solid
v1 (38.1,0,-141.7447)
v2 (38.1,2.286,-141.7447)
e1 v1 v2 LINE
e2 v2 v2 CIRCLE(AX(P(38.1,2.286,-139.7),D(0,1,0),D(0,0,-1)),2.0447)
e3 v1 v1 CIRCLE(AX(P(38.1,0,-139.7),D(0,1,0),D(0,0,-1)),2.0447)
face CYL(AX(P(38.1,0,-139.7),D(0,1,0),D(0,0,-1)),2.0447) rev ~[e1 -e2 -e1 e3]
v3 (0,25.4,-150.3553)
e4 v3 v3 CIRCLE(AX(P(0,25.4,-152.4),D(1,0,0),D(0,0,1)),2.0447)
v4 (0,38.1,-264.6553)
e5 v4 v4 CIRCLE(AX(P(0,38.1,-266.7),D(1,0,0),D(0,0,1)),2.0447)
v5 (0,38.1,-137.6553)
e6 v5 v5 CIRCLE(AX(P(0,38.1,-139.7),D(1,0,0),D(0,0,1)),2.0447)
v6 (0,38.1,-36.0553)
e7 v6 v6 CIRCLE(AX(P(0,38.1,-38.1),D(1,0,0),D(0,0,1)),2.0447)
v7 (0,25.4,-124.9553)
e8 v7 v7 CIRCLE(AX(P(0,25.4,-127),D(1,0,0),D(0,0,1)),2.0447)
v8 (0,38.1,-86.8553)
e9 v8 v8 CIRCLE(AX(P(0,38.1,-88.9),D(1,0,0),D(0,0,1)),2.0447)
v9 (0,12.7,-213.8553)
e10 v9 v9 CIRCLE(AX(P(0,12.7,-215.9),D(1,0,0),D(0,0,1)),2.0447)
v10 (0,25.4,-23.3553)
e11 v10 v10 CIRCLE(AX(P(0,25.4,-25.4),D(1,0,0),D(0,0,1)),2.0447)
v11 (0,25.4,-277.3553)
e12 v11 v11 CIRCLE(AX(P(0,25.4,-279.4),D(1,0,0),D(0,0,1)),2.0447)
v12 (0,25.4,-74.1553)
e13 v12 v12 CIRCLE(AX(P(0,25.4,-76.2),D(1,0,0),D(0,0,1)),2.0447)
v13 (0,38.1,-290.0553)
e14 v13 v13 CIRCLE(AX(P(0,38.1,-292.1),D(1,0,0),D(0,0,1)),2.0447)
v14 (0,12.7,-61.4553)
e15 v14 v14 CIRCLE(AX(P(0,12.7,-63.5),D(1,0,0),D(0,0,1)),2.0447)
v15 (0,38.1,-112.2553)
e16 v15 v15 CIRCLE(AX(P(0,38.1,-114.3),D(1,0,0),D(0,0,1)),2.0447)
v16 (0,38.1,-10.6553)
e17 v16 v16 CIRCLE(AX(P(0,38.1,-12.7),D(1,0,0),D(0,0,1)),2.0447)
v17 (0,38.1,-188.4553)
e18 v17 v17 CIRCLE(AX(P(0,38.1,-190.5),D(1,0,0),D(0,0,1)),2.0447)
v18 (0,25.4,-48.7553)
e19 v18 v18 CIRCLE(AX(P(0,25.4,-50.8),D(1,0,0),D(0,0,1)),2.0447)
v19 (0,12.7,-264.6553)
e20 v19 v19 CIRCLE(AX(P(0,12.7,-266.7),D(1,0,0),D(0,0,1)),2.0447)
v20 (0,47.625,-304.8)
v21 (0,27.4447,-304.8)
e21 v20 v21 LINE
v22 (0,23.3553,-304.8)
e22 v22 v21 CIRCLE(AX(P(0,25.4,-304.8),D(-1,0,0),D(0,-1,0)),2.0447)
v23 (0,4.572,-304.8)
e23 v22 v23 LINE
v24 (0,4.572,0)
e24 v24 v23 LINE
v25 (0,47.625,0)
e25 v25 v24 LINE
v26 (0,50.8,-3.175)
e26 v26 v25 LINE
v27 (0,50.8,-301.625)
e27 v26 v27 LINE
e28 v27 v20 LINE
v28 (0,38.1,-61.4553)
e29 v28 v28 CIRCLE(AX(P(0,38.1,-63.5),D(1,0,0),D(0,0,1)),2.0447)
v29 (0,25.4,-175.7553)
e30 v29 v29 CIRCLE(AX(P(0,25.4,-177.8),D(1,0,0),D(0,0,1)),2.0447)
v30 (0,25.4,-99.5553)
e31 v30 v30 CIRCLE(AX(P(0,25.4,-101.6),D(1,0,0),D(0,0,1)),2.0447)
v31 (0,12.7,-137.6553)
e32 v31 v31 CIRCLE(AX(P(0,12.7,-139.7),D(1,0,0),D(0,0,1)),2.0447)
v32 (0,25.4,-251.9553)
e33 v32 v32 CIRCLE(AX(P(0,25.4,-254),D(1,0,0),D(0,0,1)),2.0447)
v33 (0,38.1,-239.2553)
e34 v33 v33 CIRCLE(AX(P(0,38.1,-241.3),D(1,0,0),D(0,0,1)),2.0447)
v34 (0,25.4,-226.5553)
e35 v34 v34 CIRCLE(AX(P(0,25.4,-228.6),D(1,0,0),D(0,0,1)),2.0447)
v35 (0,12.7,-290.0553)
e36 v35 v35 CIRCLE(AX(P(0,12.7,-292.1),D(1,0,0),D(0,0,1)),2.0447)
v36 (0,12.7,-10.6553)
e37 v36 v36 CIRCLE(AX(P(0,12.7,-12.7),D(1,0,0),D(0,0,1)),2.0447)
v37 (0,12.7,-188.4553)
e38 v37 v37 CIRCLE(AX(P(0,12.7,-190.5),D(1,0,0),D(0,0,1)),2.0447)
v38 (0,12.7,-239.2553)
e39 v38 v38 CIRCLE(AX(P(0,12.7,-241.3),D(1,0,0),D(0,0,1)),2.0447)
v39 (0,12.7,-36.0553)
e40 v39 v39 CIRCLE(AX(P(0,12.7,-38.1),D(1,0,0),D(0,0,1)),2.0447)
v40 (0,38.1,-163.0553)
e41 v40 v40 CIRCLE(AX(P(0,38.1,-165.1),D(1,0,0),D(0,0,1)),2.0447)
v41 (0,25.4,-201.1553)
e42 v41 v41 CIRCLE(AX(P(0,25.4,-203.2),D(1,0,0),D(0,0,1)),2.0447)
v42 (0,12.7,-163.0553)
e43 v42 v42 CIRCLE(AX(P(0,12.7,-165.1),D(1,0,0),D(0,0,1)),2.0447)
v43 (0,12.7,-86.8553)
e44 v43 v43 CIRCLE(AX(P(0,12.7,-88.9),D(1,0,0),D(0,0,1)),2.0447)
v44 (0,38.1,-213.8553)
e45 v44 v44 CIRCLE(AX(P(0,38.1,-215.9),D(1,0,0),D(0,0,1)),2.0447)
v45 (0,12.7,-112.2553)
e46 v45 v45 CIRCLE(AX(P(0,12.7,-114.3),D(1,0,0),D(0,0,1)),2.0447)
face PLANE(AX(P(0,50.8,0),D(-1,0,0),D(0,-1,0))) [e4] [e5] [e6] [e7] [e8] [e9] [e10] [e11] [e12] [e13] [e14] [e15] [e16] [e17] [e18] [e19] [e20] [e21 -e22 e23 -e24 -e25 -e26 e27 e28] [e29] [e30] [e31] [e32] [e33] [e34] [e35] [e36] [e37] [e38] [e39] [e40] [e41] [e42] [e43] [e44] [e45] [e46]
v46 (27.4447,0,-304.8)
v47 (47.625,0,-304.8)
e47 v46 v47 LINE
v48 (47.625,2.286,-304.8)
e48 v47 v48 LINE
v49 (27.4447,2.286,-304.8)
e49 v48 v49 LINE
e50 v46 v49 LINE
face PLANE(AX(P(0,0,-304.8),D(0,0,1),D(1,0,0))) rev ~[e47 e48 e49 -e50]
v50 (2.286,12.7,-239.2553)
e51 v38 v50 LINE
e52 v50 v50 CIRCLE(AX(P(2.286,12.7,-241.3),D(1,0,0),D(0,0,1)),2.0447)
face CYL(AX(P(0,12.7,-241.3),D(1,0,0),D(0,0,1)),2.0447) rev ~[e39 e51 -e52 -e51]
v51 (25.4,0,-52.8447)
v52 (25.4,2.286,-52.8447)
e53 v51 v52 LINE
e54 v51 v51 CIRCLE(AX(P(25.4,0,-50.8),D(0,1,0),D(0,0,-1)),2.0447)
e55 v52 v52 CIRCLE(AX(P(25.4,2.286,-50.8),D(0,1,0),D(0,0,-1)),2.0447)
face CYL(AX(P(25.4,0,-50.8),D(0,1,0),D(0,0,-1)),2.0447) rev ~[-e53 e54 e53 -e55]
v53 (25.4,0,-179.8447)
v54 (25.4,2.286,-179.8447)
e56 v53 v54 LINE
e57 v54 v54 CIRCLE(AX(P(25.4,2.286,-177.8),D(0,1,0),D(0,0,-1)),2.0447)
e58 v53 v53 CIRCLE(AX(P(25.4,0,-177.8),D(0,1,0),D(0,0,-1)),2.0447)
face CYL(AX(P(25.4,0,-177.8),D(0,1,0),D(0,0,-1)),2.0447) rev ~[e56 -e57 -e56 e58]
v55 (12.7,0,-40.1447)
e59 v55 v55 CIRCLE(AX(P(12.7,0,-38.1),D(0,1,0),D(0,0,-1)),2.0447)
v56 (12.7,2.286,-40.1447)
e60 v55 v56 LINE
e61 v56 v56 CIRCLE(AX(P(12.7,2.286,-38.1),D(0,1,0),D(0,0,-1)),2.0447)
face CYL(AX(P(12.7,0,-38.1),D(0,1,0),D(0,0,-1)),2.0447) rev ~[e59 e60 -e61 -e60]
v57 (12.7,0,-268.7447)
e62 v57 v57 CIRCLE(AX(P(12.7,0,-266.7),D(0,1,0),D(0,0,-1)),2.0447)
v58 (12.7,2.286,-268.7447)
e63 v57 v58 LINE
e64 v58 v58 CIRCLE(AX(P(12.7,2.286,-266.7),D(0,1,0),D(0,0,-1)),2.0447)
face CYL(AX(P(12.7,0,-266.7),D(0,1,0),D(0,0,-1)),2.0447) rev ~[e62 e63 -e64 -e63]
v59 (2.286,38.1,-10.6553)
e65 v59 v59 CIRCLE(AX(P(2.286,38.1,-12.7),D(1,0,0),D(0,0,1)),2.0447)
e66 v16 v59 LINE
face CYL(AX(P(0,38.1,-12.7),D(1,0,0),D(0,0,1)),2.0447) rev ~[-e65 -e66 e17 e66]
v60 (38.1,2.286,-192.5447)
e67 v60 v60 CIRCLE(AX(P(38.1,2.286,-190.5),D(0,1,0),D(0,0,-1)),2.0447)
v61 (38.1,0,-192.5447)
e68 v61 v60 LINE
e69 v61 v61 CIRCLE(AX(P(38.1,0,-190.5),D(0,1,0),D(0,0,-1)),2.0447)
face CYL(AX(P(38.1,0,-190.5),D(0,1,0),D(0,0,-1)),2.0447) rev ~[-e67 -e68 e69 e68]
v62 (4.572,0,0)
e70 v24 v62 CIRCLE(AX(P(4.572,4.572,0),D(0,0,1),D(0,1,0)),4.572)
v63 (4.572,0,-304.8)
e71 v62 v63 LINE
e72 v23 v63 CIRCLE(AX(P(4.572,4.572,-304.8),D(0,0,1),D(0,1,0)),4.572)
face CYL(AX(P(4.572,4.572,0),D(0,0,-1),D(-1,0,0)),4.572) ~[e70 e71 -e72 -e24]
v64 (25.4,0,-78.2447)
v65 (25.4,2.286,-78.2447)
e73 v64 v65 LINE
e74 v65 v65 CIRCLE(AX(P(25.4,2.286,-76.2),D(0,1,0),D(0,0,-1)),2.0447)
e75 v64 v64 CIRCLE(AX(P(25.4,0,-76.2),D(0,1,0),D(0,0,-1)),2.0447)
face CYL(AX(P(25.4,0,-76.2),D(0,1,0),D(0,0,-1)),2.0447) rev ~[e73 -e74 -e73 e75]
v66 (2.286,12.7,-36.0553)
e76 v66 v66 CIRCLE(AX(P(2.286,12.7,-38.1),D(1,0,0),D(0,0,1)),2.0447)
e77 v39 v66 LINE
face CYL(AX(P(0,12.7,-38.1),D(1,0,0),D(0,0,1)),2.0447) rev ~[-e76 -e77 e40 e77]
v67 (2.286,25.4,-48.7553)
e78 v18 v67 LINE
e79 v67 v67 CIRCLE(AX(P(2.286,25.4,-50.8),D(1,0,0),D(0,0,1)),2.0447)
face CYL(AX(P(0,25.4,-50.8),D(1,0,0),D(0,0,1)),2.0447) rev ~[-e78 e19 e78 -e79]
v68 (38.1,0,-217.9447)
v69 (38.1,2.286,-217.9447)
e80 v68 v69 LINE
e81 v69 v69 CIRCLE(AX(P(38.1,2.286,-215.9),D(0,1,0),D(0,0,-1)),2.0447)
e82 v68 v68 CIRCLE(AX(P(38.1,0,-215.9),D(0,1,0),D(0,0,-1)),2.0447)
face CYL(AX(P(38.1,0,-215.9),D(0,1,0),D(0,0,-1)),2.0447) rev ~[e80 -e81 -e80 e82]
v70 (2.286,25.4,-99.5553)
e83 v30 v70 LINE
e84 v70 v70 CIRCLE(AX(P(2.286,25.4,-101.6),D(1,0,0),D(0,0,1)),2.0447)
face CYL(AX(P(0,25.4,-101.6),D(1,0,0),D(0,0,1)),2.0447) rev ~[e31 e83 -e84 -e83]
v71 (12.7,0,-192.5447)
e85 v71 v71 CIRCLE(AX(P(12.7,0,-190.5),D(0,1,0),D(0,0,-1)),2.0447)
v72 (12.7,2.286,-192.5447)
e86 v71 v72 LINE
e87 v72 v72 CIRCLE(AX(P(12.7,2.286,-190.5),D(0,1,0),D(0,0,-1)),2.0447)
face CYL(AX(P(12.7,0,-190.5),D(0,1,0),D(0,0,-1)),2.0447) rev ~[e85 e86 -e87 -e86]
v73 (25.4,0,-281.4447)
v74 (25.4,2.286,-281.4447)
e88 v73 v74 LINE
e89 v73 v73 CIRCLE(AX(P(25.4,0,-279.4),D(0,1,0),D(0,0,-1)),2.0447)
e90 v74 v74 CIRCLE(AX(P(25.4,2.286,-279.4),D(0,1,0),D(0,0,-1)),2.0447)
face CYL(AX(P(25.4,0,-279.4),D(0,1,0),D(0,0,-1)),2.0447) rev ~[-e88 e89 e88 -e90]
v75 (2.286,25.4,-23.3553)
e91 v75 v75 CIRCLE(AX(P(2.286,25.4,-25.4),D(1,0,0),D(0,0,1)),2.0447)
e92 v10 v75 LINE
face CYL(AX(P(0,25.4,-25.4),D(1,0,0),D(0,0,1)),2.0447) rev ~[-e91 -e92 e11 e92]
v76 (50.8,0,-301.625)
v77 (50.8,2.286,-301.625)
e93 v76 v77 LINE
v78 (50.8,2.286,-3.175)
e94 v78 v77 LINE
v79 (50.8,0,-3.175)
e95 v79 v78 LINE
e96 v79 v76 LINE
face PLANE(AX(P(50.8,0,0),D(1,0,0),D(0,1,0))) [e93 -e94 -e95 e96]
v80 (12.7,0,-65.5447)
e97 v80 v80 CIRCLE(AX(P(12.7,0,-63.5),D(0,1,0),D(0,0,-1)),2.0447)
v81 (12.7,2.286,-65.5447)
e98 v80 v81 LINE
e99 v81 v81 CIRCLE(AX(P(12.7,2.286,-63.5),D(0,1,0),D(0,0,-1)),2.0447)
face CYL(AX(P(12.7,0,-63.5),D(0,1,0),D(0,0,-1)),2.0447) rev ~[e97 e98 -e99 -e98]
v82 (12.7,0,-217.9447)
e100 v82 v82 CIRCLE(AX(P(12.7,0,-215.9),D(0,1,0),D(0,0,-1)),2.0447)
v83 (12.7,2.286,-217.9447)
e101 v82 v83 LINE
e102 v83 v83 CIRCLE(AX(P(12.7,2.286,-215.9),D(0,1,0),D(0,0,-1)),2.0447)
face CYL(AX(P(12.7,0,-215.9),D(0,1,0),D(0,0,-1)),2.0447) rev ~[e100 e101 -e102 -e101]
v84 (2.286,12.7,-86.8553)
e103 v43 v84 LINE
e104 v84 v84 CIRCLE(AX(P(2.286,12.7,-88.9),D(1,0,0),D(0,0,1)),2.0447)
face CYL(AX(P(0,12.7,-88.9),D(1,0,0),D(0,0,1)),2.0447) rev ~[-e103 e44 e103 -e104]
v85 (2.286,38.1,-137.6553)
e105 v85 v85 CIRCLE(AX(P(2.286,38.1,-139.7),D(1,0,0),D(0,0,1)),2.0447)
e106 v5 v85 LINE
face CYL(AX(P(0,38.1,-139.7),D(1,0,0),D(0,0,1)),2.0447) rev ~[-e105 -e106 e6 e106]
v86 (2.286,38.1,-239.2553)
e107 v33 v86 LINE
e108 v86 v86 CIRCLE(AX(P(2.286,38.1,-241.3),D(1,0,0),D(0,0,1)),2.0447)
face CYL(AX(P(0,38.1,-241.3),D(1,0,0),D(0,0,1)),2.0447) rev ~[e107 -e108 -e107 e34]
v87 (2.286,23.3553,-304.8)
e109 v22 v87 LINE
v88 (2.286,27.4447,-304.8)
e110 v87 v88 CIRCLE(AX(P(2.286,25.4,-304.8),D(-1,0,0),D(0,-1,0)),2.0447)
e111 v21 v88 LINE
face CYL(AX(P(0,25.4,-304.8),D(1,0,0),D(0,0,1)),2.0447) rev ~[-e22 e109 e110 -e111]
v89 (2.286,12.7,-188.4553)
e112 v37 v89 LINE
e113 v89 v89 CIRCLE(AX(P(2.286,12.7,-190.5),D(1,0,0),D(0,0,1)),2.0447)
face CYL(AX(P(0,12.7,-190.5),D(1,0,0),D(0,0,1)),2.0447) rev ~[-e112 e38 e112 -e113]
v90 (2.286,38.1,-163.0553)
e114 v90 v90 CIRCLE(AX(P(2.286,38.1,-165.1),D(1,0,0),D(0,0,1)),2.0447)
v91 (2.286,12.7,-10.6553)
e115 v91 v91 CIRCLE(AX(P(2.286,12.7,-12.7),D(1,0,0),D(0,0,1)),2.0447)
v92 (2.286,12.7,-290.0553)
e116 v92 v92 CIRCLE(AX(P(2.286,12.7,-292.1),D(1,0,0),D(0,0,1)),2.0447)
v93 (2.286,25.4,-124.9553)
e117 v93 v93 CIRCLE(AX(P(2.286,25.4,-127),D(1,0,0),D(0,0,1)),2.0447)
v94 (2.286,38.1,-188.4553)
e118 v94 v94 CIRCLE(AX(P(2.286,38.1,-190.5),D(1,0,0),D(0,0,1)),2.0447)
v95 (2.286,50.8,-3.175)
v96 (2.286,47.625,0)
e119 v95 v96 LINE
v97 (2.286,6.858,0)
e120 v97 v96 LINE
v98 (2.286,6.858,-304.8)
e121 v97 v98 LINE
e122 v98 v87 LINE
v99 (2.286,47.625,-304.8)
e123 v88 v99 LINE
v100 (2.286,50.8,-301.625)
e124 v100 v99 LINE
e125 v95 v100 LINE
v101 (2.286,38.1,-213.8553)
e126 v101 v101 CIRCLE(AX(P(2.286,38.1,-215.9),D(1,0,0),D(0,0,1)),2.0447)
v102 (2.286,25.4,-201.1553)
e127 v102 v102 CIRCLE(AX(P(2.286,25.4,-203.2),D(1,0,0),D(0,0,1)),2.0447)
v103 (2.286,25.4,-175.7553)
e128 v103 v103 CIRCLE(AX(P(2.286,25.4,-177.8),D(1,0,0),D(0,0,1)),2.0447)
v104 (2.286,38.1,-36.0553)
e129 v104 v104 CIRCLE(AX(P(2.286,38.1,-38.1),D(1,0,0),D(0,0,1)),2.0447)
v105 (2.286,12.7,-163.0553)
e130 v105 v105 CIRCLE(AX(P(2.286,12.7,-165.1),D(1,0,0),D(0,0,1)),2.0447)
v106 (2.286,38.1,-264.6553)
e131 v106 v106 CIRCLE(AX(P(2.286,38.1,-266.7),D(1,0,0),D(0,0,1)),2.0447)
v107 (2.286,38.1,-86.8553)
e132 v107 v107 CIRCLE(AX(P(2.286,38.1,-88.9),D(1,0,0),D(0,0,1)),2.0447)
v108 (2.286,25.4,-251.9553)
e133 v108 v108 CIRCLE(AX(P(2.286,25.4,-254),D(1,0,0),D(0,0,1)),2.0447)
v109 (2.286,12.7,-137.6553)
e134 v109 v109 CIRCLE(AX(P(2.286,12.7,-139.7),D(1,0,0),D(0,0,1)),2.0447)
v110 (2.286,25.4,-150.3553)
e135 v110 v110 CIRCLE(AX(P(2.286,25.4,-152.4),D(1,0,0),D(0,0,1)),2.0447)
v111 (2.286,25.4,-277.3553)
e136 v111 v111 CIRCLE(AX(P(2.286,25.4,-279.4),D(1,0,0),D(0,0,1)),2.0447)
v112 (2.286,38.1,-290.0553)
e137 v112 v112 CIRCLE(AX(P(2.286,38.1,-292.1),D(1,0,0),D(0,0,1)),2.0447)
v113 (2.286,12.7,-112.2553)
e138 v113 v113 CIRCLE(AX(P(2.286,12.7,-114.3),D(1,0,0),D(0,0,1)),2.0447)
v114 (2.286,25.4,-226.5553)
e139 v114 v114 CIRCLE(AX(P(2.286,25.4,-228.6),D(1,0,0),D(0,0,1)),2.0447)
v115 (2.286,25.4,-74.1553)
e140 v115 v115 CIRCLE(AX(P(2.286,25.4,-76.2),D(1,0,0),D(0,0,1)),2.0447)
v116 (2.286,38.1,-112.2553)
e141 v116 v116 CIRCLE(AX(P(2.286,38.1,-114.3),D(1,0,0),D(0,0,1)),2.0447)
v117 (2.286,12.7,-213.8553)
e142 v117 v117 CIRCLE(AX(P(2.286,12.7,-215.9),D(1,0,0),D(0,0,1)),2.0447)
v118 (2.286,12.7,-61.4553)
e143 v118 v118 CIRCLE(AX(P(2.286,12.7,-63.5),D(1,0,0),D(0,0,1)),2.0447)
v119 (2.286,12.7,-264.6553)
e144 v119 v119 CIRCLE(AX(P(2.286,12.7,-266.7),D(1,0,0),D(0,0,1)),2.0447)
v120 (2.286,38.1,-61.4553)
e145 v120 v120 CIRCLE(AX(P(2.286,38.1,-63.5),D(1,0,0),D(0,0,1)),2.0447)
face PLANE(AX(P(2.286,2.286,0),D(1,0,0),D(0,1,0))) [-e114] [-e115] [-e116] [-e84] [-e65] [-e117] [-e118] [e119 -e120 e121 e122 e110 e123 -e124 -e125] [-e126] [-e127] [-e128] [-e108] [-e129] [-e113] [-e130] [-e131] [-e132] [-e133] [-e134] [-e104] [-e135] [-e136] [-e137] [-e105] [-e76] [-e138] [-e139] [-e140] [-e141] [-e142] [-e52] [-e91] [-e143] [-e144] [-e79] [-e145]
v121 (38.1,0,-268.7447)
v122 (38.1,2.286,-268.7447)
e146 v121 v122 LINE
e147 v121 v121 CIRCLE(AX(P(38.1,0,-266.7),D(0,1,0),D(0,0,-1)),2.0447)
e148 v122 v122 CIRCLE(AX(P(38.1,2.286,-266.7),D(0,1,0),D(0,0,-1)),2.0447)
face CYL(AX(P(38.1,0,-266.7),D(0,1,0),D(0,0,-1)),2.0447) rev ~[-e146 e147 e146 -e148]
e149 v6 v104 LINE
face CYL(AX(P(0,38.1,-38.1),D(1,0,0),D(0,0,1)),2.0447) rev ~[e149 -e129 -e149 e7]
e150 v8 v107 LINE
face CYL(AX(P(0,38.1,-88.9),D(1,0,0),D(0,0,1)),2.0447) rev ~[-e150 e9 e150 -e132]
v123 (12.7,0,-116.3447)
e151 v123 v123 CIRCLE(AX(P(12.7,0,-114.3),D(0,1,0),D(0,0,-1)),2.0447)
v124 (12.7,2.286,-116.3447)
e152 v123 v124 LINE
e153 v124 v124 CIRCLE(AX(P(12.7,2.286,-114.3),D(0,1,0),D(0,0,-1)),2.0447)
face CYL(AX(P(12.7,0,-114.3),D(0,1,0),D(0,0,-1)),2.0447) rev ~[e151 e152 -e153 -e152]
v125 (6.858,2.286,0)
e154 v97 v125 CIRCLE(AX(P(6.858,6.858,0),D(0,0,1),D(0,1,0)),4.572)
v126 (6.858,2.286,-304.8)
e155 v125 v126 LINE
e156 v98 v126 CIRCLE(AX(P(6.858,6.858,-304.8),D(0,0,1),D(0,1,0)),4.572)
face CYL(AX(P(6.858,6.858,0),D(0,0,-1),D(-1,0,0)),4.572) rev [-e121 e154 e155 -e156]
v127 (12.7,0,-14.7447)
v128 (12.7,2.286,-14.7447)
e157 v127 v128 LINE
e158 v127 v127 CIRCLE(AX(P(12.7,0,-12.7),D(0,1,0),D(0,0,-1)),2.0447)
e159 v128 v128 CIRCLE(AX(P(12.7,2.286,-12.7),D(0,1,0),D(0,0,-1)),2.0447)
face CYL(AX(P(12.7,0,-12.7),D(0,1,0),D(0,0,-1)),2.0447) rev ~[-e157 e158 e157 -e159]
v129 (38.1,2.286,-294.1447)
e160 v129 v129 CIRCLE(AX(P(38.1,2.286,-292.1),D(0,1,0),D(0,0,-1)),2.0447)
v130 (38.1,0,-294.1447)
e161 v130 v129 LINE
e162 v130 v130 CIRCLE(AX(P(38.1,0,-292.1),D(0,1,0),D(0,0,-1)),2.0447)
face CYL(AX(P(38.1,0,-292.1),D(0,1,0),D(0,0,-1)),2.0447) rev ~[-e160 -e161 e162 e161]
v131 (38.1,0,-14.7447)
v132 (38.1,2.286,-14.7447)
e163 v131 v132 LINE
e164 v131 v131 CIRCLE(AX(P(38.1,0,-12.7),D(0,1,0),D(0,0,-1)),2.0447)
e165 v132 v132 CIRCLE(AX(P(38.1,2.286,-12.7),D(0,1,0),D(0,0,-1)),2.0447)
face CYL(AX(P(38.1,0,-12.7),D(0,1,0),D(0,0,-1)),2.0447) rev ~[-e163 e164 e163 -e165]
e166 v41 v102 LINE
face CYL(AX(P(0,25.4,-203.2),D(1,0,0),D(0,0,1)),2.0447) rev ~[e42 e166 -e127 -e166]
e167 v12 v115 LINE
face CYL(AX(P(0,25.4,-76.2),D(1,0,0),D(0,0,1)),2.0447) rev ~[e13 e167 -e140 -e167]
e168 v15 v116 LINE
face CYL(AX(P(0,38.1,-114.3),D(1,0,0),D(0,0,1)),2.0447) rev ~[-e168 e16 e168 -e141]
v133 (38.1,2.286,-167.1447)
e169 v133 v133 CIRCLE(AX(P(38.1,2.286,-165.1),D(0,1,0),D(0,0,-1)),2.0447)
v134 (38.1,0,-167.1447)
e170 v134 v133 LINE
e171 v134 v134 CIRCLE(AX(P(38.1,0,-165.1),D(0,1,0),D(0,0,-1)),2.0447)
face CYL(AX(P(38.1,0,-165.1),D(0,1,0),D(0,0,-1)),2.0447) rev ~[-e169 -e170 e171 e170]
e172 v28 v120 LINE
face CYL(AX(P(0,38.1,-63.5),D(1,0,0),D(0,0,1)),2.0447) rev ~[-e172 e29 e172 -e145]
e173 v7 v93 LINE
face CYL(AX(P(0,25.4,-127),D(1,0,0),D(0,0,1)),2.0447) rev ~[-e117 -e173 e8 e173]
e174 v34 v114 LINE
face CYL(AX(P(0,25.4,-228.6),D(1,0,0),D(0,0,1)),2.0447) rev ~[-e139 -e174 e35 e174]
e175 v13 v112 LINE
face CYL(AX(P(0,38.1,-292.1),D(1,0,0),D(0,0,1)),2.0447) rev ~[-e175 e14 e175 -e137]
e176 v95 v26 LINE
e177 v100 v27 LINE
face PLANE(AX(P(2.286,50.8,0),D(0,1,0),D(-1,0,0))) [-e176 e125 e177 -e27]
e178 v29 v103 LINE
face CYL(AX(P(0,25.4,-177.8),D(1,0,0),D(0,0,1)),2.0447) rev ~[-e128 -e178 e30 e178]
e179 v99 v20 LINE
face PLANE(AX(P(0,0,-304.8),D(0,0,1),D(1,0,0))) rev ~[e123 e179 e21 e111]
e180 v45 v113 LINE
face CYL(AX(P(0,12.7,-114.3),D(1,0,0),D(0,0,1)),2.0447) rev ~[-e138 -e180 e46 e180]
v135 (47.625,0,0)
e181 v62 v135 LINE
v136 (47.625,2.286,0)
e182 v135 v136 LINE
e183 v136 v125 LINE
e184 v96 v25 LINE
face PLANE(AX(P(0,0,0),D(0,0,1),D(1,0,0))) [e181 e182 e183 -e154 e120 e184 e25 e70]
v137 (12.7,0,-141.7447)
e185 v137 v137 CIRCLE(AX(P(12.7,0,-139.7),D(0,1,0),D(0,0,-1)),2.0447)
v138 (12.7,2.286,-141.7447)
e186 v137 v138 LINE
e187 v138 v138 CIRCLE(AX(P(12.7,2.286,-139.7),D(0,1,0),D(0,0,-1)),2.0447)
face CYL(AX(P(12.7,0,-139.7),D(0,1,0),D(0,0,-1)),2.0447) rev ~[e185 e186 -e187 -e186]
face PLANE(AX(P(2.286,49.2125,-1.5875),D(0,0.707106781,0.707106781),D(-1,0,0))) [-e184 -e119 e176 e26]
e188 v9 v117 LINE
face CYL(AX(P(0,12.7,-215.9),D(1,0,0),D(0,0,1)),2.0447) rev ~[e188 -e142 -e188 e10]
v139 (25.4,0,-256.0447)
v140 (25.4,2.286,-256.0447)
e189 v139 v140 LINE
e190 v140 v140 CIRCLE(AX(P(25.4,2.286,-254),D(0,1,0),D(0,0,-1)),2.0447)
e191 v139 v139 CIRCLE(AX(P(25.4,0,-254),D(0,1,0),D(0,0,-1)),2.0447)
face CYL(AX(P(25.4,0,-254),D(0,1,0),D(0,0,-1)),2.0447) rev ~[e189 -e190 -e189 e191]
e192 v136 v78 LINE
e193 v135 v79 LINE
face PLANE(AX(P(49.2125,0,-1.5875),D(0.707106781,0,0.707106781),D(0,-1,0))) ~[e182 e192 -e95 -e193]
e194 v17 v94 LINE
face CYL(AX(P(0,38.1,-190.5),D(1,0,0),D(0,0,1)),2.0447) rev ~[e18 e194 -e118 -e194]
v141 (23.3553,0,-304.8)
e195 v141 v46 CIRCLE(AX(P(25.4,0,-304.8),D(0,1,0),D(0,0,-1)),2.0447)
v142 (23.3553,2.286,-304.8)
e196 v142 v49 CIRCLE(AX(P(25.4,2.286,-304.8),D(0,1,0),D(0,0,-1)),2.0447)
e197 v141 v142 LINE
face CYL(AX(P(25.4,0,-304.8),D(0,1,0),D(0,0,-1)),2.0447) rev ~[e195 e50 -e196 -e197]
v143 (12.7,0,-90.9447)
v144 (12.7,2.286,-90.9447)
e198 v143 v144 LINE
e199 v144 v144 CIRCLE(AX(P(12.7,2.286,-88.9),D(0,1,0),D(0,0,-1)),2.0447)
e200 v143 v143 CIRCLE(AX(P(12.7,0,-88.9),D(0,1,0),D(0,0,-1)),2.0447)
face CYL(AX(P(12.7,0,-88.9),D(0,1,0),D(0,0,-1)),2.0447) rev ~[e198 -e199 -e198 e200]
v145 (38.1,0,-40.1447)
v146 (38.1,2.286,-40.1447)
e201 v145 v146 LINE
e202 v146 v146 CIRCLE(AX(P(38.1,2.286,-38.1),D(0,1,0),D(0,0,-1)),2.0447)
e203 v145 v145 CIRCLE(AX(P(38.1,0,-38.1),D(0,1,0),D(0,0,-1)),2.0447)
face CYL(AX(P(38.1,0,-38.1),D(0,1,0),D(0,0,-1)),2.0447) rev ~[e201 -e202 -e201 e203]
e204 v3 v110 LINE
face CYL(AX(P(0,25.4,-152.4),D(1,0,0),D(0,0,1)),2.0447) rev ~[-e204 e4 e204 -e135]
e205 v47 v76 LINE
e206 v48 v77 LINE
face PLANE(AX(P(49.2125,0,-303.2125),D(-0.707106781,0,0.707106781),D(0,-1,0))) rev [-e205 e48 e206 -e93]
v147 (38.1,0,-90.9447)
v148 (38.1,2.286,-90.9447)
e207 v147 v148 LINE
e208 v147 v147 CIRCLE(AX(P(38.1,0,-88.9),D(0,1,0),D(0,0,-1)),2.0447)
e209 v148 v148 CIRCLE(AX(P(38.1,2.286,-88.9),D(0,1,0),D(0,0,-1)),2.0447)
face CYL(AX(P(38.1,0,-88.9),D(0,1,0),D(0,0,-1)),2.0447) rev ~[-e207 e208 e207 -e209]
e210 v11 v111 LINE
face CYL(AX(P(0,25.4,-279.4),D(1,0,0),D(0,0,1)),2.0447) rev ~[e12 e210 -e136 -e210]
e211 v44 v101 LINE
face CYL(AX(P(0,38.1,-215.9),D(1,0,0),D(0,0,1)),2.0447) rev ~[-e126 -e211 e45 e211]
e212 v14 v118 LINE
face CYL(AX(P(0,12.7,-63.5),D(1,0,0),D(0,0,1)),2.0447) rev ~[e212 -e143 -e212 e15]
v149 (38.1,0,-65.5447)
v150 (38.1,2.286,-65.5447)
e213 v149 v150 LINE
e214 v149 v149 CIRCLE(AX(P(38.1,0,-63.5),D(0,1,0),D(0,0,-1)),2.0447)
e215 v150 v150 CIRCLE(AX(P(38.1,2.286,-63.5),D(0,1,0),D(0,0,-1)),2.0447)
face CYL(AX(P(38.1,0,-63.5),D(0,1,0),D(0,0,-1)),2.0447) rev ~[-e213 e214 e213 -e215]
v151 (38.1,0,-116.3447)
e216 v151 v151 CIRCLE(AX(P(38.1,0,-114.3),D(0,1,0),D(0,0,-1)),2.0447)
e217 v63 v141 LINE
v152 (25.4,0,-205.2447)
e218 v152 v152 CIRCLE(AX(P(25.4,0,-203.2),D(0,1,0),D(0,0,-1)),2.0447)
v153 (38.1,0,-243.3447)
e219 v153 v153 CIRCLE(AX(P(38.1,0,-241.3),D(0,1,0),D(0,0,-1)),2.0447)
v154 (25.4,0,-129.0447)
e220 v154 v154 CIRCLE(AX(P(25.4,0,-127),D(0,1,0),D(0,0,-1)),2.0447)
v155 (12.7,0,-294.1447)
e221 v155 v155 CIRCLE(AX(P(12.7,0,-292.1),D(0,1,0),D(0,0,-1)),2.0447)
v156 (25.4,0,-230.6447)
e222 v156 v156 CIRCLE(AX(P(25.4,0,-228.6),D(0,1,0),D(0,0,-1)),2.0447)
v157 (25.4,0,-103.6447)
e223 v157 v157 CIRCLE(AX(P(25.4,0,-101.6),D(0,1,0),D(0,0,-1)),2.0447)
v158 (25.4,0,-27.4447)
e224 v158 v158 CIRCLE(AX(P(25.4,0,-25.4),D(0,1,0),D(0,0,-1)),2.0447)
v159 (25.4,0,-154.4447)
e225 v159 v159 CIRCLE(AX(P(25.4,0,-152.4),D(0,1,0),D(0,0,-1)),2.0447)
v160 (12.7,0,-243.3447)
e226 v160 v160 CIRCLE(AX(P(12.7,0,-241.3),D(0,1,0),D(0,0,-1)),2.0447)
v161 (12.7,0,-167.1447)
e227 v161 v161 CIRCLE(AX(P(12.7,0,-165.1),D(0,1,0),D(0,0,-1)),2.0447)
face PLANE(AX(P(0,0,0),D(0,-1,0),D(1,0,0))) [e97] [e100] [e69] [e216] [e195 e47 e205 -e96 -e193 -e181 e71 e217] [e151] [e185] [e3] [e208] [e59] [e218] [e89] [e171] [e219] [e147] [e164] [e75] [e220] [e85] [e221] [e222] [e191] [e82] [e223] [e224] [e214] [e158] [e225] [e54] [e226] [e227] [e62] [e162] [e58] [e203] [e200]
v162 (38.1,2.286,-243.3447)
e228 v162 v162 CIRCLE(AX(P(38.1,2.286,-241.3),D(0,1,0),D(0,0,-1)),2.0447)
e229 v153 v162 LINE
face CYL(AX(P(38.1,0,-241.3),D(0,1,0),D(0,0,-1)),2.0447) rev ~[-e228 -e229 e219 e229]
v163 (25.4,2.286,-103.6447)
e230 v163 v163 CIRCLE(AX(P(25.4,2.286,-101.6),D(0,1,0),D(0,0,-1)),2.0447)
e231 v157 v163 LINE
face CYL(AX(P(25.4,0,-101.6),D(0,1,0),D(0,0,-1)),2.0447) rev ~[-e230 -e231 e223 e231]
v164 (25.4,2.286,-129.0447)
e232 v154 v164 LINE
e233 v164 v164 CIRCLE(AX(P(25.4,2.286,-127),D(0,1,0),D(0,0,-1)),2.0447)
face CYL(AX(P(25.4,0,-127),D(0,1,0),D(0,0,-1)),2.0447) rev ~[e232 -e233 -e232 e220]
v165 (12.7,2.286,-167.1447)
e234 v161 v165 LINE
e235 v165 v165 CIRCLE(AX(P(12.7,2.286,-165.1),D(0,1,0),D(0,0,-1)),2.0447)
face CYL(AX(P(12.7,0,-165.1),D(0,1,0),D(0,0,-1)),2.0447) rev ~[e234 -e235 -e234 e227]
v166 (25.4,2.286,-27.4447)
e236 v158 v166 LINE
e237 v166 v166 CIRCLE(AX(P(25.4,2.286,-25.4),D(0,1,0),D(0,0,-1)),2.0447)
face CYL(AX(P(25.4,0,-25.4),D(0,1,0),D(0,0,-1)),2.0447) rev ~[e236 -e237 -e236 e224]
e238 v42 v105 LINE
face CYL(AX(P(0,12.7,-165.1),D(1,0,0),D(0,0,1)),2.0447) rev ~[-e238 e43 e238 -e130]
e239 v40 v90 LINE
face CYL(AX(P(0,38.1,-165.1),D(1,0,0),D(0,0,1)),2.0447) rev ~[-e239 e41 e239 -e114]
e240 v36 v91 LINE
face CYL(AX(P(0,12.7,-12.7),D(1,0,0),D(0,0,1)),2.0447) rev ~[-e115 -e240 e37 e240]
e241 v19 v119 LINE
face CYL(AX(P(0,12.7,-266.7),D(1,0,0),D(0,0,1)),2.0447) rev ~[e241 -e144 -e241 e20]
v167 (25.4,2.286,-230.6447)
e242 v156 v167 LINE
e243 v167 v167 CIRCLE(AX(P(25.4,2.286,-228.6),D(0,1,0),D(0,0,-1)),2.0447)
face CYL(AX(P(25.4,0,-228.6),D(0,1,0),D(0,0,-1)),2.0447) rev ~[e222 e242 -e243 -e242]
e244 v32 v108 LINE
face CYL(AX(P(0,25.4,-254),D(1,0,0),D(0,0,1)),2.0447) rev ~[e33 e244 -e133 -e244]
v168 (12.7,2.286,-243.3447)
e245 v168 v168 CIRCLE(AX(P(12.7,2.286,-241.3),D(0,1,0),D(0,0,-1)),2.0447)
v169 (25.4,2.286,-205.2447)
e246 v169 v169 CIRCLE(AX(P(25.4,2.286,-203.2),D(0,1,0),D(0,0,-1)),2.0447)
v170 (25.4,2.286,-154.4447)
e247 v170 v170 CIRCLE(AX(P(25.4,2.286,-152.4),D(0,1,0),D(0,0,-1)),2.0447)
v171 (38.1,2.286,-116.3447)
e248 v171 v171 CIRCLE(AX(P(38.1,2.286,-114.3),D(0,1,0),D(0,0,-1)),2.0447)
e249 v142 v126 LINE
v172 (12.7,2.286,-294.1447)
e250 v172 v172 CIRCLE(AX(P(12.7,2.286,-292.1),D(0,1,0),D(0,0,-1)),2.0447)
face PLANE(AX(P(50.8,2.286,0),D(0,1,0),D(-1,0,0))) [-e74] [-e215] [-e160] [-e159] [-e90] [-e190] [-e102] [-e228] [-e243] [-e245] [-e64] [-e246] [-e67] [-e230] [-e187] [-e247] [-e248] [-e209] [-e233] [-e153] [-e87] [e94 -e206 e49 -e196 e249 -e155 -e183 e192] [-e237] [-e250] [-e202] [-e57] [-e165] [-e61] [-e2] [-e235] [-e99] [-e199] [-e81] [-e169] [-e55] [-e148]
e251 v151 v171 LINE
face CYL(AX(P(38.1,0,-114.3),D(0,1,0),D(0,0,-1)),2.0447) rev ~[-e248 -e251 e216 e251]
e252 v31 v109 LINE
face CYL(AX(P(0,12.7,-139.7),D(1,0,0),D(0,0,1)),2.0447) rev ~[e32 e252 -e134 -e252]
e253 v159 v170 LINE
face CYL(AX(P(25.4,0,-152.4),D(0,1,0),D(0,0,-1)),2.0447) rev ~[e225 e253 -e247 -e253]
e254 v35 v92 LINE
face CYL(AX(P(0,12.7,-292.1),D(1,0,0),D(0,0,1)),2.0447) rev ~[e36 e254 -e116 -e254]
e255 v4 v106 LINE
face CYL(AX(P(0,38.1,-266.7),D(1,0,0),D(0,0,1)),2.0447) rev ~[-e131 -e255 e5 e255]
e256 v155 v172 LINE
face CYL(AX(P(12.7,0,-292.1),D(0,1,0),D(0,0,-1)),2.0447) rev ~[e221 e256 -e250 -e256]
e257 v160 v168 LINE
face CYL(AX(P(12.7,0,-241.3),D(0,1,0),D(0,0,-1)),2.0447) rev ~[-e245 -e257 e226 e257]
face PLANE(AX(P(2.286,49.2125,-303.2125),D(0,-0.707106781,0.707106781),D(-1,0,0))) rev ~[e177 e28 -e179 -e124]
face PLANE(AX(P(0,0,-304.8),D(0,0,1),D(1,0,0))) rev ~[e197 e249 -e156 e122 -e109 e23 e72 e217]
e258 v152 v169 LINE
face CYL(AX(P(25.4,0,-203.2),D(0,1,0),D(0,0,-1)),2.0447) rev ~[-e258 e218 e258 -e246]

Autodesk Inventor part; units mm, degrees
ref_plane "YZ Plane" through (0, 0, 0) normal (1, 0, 0) x (0, 1, 0)
ref_plane "XZ Plane" through (0, 0, 0) normal (0, 1, 0) x (-1, 0, 0)
ref_plane "XY Plane" through (0, 0, 0) normal (0, 0, 1) x (1, 0, 0)
sketch "Sketch1" plane through (0, 0, 0) normal (0, 0, 1) x (1, 0, 0)
  line L0 (0, 50.8) -> (0, 0)
  line L1 (0, 0) -> (50.8, 0)
  line L2 (50.8, 0) -> (50.8, 2.286)
  line L3 (50.8, 2.286) -> (2.286, 2.286)
  line L4 (2.286, 2.286) -> (2.286, 50.8)
  line L5 (2.286, 50.8) -> (0, 50.8)
  dimension "leg" = 50.8
  dimension "d1" = 2.286
extrude "Extrusion1" add sketch "Sketch1" against normal blind 304.8
sketch "Sketch2" plane through (0, 0, 0) normal (-1, 0, 0) x (0, 0, 1)
  line L0 (0, 0) -> (0, 50.8) projected
  line L1 (0, 50.8) -> (-304.8, 50.8) projected
  line L2 (-304.8, 0) -> (-304.8, 50.8) projected
  line L3 (0, 0) -> (-304.8, 0) projected
  point P0 (-25.4, 25.4)
  dimension "d4" = 50.8
  dimension "d5" = 25.4
  dimension "hole_pos" = 25.4
hole "Hole1" at (0, 25.4, -25.4) direction (1, 0, 0) diameter 4.0894 end through all
sketch "Sketch3" plane through (0, 0, 0) normal (0, -1, 0) x (1, 0, 0)
  line L0 (50.8, 0) -> (0, 0) projected
  line L1 (0, 0) -> (0, -304.8) projected
  line L2 (50.8, -304.8) -> (0, -304.8) projected
  line L3 (50.8, 0) -> (50.8, -304.8) projected
  point P0 (25.4, -25.4)
  dimension "d14" = 50.8
  dimension "d15" = 25.4
  dimension "d16" = 25.4
hole "Hole2" at (25.4, 0, -25.4) direction (0, 1, 0) diameter 4.0894 end through all
sketch "Sketch4" plane through (0, 0, 0) normal (-1, 0, 0) x (0, 0, 1)
  circle A0 centre (-25.4, 25.4) radius 2.0447 projected
  line L0 (0, 0) -> (0, 50.8) projected
  line L1 (0, 50.8) -> (-304.8, 50.8) projected
  line L2 (-304.8, 0) -> (-304.8, 50.8) projected
  line L3 (0, 0) -> (-304.8, 0) projected
  point P0 (-12.7, 38.1)
  point P1 (-12.7, 12.7)
  dimension "d24" = 12.7
  dimension "d25" = 12.7
  dimension "d26" = 12.7
hole "Hole3" at (0, 38.1, -12.7) at (0, 12.7, -12.7) direction (1, 0, 0) diameter 4.0894 end through all
sketch "Sketch5" plane through (0, 0, 0) normal (0, -1, 0) x (1, 0, 0)
  circle A0 centre (25.4, -25.4) radius 2.0447 projected
  line L0 (50.8, 0) -> (0, 0) projected
  line L1 (0, 0) -> (0, -304.8) projected
  line L2 (50.8, -304.8) -> (0, -304.8) projected
  line L3 (50.8, 0) -> (50.8, -304.8) projected
  point P0 (12.7, -12.7)
  point P1 (38.1, -12.7)
  dimension "d34" = 12.7
  dimension "d35" = 12.7
  dimension "d36" = 12.7
hole "Hole4" at (12.7, 0, -12.7) at (38.1, 0, -12.7) direction (0, 1, 0) diameter 4.0894 end through all
chamfer "Chamfer1" distance 3.175 angle 45 4 edges at (1.143, 50.8, 0) (50.8, 1.143, 0) (1.143, 50.8, -304.8) (50.8, 1.143, -304.8)
fillet "Fillet1" radius 4.572 2 edges at (0, 0, -152.4) (2.286, 2.286, -152.4)
pattern_linear "Rectangular Pattern1" count 13 spacing 25.4 along (0, 0, -1) of "Hole1", "Hole2"
pattern_linear "Rectangular Pattern2" count 13 spacing 25.4 along (0, 0, -1) of "Hole3", "Hole4"
equation "\"d5\" = 0.5 * d4"
equation "\"d15\" = hole_pos"
equation "\"d16\" = 0.5 * d14"
equation "\"d26\" = d25"
equation "\"d36\" = d34"
properties part number "versaframe_angle-2x2" material "Aluminum 5052-H36"
